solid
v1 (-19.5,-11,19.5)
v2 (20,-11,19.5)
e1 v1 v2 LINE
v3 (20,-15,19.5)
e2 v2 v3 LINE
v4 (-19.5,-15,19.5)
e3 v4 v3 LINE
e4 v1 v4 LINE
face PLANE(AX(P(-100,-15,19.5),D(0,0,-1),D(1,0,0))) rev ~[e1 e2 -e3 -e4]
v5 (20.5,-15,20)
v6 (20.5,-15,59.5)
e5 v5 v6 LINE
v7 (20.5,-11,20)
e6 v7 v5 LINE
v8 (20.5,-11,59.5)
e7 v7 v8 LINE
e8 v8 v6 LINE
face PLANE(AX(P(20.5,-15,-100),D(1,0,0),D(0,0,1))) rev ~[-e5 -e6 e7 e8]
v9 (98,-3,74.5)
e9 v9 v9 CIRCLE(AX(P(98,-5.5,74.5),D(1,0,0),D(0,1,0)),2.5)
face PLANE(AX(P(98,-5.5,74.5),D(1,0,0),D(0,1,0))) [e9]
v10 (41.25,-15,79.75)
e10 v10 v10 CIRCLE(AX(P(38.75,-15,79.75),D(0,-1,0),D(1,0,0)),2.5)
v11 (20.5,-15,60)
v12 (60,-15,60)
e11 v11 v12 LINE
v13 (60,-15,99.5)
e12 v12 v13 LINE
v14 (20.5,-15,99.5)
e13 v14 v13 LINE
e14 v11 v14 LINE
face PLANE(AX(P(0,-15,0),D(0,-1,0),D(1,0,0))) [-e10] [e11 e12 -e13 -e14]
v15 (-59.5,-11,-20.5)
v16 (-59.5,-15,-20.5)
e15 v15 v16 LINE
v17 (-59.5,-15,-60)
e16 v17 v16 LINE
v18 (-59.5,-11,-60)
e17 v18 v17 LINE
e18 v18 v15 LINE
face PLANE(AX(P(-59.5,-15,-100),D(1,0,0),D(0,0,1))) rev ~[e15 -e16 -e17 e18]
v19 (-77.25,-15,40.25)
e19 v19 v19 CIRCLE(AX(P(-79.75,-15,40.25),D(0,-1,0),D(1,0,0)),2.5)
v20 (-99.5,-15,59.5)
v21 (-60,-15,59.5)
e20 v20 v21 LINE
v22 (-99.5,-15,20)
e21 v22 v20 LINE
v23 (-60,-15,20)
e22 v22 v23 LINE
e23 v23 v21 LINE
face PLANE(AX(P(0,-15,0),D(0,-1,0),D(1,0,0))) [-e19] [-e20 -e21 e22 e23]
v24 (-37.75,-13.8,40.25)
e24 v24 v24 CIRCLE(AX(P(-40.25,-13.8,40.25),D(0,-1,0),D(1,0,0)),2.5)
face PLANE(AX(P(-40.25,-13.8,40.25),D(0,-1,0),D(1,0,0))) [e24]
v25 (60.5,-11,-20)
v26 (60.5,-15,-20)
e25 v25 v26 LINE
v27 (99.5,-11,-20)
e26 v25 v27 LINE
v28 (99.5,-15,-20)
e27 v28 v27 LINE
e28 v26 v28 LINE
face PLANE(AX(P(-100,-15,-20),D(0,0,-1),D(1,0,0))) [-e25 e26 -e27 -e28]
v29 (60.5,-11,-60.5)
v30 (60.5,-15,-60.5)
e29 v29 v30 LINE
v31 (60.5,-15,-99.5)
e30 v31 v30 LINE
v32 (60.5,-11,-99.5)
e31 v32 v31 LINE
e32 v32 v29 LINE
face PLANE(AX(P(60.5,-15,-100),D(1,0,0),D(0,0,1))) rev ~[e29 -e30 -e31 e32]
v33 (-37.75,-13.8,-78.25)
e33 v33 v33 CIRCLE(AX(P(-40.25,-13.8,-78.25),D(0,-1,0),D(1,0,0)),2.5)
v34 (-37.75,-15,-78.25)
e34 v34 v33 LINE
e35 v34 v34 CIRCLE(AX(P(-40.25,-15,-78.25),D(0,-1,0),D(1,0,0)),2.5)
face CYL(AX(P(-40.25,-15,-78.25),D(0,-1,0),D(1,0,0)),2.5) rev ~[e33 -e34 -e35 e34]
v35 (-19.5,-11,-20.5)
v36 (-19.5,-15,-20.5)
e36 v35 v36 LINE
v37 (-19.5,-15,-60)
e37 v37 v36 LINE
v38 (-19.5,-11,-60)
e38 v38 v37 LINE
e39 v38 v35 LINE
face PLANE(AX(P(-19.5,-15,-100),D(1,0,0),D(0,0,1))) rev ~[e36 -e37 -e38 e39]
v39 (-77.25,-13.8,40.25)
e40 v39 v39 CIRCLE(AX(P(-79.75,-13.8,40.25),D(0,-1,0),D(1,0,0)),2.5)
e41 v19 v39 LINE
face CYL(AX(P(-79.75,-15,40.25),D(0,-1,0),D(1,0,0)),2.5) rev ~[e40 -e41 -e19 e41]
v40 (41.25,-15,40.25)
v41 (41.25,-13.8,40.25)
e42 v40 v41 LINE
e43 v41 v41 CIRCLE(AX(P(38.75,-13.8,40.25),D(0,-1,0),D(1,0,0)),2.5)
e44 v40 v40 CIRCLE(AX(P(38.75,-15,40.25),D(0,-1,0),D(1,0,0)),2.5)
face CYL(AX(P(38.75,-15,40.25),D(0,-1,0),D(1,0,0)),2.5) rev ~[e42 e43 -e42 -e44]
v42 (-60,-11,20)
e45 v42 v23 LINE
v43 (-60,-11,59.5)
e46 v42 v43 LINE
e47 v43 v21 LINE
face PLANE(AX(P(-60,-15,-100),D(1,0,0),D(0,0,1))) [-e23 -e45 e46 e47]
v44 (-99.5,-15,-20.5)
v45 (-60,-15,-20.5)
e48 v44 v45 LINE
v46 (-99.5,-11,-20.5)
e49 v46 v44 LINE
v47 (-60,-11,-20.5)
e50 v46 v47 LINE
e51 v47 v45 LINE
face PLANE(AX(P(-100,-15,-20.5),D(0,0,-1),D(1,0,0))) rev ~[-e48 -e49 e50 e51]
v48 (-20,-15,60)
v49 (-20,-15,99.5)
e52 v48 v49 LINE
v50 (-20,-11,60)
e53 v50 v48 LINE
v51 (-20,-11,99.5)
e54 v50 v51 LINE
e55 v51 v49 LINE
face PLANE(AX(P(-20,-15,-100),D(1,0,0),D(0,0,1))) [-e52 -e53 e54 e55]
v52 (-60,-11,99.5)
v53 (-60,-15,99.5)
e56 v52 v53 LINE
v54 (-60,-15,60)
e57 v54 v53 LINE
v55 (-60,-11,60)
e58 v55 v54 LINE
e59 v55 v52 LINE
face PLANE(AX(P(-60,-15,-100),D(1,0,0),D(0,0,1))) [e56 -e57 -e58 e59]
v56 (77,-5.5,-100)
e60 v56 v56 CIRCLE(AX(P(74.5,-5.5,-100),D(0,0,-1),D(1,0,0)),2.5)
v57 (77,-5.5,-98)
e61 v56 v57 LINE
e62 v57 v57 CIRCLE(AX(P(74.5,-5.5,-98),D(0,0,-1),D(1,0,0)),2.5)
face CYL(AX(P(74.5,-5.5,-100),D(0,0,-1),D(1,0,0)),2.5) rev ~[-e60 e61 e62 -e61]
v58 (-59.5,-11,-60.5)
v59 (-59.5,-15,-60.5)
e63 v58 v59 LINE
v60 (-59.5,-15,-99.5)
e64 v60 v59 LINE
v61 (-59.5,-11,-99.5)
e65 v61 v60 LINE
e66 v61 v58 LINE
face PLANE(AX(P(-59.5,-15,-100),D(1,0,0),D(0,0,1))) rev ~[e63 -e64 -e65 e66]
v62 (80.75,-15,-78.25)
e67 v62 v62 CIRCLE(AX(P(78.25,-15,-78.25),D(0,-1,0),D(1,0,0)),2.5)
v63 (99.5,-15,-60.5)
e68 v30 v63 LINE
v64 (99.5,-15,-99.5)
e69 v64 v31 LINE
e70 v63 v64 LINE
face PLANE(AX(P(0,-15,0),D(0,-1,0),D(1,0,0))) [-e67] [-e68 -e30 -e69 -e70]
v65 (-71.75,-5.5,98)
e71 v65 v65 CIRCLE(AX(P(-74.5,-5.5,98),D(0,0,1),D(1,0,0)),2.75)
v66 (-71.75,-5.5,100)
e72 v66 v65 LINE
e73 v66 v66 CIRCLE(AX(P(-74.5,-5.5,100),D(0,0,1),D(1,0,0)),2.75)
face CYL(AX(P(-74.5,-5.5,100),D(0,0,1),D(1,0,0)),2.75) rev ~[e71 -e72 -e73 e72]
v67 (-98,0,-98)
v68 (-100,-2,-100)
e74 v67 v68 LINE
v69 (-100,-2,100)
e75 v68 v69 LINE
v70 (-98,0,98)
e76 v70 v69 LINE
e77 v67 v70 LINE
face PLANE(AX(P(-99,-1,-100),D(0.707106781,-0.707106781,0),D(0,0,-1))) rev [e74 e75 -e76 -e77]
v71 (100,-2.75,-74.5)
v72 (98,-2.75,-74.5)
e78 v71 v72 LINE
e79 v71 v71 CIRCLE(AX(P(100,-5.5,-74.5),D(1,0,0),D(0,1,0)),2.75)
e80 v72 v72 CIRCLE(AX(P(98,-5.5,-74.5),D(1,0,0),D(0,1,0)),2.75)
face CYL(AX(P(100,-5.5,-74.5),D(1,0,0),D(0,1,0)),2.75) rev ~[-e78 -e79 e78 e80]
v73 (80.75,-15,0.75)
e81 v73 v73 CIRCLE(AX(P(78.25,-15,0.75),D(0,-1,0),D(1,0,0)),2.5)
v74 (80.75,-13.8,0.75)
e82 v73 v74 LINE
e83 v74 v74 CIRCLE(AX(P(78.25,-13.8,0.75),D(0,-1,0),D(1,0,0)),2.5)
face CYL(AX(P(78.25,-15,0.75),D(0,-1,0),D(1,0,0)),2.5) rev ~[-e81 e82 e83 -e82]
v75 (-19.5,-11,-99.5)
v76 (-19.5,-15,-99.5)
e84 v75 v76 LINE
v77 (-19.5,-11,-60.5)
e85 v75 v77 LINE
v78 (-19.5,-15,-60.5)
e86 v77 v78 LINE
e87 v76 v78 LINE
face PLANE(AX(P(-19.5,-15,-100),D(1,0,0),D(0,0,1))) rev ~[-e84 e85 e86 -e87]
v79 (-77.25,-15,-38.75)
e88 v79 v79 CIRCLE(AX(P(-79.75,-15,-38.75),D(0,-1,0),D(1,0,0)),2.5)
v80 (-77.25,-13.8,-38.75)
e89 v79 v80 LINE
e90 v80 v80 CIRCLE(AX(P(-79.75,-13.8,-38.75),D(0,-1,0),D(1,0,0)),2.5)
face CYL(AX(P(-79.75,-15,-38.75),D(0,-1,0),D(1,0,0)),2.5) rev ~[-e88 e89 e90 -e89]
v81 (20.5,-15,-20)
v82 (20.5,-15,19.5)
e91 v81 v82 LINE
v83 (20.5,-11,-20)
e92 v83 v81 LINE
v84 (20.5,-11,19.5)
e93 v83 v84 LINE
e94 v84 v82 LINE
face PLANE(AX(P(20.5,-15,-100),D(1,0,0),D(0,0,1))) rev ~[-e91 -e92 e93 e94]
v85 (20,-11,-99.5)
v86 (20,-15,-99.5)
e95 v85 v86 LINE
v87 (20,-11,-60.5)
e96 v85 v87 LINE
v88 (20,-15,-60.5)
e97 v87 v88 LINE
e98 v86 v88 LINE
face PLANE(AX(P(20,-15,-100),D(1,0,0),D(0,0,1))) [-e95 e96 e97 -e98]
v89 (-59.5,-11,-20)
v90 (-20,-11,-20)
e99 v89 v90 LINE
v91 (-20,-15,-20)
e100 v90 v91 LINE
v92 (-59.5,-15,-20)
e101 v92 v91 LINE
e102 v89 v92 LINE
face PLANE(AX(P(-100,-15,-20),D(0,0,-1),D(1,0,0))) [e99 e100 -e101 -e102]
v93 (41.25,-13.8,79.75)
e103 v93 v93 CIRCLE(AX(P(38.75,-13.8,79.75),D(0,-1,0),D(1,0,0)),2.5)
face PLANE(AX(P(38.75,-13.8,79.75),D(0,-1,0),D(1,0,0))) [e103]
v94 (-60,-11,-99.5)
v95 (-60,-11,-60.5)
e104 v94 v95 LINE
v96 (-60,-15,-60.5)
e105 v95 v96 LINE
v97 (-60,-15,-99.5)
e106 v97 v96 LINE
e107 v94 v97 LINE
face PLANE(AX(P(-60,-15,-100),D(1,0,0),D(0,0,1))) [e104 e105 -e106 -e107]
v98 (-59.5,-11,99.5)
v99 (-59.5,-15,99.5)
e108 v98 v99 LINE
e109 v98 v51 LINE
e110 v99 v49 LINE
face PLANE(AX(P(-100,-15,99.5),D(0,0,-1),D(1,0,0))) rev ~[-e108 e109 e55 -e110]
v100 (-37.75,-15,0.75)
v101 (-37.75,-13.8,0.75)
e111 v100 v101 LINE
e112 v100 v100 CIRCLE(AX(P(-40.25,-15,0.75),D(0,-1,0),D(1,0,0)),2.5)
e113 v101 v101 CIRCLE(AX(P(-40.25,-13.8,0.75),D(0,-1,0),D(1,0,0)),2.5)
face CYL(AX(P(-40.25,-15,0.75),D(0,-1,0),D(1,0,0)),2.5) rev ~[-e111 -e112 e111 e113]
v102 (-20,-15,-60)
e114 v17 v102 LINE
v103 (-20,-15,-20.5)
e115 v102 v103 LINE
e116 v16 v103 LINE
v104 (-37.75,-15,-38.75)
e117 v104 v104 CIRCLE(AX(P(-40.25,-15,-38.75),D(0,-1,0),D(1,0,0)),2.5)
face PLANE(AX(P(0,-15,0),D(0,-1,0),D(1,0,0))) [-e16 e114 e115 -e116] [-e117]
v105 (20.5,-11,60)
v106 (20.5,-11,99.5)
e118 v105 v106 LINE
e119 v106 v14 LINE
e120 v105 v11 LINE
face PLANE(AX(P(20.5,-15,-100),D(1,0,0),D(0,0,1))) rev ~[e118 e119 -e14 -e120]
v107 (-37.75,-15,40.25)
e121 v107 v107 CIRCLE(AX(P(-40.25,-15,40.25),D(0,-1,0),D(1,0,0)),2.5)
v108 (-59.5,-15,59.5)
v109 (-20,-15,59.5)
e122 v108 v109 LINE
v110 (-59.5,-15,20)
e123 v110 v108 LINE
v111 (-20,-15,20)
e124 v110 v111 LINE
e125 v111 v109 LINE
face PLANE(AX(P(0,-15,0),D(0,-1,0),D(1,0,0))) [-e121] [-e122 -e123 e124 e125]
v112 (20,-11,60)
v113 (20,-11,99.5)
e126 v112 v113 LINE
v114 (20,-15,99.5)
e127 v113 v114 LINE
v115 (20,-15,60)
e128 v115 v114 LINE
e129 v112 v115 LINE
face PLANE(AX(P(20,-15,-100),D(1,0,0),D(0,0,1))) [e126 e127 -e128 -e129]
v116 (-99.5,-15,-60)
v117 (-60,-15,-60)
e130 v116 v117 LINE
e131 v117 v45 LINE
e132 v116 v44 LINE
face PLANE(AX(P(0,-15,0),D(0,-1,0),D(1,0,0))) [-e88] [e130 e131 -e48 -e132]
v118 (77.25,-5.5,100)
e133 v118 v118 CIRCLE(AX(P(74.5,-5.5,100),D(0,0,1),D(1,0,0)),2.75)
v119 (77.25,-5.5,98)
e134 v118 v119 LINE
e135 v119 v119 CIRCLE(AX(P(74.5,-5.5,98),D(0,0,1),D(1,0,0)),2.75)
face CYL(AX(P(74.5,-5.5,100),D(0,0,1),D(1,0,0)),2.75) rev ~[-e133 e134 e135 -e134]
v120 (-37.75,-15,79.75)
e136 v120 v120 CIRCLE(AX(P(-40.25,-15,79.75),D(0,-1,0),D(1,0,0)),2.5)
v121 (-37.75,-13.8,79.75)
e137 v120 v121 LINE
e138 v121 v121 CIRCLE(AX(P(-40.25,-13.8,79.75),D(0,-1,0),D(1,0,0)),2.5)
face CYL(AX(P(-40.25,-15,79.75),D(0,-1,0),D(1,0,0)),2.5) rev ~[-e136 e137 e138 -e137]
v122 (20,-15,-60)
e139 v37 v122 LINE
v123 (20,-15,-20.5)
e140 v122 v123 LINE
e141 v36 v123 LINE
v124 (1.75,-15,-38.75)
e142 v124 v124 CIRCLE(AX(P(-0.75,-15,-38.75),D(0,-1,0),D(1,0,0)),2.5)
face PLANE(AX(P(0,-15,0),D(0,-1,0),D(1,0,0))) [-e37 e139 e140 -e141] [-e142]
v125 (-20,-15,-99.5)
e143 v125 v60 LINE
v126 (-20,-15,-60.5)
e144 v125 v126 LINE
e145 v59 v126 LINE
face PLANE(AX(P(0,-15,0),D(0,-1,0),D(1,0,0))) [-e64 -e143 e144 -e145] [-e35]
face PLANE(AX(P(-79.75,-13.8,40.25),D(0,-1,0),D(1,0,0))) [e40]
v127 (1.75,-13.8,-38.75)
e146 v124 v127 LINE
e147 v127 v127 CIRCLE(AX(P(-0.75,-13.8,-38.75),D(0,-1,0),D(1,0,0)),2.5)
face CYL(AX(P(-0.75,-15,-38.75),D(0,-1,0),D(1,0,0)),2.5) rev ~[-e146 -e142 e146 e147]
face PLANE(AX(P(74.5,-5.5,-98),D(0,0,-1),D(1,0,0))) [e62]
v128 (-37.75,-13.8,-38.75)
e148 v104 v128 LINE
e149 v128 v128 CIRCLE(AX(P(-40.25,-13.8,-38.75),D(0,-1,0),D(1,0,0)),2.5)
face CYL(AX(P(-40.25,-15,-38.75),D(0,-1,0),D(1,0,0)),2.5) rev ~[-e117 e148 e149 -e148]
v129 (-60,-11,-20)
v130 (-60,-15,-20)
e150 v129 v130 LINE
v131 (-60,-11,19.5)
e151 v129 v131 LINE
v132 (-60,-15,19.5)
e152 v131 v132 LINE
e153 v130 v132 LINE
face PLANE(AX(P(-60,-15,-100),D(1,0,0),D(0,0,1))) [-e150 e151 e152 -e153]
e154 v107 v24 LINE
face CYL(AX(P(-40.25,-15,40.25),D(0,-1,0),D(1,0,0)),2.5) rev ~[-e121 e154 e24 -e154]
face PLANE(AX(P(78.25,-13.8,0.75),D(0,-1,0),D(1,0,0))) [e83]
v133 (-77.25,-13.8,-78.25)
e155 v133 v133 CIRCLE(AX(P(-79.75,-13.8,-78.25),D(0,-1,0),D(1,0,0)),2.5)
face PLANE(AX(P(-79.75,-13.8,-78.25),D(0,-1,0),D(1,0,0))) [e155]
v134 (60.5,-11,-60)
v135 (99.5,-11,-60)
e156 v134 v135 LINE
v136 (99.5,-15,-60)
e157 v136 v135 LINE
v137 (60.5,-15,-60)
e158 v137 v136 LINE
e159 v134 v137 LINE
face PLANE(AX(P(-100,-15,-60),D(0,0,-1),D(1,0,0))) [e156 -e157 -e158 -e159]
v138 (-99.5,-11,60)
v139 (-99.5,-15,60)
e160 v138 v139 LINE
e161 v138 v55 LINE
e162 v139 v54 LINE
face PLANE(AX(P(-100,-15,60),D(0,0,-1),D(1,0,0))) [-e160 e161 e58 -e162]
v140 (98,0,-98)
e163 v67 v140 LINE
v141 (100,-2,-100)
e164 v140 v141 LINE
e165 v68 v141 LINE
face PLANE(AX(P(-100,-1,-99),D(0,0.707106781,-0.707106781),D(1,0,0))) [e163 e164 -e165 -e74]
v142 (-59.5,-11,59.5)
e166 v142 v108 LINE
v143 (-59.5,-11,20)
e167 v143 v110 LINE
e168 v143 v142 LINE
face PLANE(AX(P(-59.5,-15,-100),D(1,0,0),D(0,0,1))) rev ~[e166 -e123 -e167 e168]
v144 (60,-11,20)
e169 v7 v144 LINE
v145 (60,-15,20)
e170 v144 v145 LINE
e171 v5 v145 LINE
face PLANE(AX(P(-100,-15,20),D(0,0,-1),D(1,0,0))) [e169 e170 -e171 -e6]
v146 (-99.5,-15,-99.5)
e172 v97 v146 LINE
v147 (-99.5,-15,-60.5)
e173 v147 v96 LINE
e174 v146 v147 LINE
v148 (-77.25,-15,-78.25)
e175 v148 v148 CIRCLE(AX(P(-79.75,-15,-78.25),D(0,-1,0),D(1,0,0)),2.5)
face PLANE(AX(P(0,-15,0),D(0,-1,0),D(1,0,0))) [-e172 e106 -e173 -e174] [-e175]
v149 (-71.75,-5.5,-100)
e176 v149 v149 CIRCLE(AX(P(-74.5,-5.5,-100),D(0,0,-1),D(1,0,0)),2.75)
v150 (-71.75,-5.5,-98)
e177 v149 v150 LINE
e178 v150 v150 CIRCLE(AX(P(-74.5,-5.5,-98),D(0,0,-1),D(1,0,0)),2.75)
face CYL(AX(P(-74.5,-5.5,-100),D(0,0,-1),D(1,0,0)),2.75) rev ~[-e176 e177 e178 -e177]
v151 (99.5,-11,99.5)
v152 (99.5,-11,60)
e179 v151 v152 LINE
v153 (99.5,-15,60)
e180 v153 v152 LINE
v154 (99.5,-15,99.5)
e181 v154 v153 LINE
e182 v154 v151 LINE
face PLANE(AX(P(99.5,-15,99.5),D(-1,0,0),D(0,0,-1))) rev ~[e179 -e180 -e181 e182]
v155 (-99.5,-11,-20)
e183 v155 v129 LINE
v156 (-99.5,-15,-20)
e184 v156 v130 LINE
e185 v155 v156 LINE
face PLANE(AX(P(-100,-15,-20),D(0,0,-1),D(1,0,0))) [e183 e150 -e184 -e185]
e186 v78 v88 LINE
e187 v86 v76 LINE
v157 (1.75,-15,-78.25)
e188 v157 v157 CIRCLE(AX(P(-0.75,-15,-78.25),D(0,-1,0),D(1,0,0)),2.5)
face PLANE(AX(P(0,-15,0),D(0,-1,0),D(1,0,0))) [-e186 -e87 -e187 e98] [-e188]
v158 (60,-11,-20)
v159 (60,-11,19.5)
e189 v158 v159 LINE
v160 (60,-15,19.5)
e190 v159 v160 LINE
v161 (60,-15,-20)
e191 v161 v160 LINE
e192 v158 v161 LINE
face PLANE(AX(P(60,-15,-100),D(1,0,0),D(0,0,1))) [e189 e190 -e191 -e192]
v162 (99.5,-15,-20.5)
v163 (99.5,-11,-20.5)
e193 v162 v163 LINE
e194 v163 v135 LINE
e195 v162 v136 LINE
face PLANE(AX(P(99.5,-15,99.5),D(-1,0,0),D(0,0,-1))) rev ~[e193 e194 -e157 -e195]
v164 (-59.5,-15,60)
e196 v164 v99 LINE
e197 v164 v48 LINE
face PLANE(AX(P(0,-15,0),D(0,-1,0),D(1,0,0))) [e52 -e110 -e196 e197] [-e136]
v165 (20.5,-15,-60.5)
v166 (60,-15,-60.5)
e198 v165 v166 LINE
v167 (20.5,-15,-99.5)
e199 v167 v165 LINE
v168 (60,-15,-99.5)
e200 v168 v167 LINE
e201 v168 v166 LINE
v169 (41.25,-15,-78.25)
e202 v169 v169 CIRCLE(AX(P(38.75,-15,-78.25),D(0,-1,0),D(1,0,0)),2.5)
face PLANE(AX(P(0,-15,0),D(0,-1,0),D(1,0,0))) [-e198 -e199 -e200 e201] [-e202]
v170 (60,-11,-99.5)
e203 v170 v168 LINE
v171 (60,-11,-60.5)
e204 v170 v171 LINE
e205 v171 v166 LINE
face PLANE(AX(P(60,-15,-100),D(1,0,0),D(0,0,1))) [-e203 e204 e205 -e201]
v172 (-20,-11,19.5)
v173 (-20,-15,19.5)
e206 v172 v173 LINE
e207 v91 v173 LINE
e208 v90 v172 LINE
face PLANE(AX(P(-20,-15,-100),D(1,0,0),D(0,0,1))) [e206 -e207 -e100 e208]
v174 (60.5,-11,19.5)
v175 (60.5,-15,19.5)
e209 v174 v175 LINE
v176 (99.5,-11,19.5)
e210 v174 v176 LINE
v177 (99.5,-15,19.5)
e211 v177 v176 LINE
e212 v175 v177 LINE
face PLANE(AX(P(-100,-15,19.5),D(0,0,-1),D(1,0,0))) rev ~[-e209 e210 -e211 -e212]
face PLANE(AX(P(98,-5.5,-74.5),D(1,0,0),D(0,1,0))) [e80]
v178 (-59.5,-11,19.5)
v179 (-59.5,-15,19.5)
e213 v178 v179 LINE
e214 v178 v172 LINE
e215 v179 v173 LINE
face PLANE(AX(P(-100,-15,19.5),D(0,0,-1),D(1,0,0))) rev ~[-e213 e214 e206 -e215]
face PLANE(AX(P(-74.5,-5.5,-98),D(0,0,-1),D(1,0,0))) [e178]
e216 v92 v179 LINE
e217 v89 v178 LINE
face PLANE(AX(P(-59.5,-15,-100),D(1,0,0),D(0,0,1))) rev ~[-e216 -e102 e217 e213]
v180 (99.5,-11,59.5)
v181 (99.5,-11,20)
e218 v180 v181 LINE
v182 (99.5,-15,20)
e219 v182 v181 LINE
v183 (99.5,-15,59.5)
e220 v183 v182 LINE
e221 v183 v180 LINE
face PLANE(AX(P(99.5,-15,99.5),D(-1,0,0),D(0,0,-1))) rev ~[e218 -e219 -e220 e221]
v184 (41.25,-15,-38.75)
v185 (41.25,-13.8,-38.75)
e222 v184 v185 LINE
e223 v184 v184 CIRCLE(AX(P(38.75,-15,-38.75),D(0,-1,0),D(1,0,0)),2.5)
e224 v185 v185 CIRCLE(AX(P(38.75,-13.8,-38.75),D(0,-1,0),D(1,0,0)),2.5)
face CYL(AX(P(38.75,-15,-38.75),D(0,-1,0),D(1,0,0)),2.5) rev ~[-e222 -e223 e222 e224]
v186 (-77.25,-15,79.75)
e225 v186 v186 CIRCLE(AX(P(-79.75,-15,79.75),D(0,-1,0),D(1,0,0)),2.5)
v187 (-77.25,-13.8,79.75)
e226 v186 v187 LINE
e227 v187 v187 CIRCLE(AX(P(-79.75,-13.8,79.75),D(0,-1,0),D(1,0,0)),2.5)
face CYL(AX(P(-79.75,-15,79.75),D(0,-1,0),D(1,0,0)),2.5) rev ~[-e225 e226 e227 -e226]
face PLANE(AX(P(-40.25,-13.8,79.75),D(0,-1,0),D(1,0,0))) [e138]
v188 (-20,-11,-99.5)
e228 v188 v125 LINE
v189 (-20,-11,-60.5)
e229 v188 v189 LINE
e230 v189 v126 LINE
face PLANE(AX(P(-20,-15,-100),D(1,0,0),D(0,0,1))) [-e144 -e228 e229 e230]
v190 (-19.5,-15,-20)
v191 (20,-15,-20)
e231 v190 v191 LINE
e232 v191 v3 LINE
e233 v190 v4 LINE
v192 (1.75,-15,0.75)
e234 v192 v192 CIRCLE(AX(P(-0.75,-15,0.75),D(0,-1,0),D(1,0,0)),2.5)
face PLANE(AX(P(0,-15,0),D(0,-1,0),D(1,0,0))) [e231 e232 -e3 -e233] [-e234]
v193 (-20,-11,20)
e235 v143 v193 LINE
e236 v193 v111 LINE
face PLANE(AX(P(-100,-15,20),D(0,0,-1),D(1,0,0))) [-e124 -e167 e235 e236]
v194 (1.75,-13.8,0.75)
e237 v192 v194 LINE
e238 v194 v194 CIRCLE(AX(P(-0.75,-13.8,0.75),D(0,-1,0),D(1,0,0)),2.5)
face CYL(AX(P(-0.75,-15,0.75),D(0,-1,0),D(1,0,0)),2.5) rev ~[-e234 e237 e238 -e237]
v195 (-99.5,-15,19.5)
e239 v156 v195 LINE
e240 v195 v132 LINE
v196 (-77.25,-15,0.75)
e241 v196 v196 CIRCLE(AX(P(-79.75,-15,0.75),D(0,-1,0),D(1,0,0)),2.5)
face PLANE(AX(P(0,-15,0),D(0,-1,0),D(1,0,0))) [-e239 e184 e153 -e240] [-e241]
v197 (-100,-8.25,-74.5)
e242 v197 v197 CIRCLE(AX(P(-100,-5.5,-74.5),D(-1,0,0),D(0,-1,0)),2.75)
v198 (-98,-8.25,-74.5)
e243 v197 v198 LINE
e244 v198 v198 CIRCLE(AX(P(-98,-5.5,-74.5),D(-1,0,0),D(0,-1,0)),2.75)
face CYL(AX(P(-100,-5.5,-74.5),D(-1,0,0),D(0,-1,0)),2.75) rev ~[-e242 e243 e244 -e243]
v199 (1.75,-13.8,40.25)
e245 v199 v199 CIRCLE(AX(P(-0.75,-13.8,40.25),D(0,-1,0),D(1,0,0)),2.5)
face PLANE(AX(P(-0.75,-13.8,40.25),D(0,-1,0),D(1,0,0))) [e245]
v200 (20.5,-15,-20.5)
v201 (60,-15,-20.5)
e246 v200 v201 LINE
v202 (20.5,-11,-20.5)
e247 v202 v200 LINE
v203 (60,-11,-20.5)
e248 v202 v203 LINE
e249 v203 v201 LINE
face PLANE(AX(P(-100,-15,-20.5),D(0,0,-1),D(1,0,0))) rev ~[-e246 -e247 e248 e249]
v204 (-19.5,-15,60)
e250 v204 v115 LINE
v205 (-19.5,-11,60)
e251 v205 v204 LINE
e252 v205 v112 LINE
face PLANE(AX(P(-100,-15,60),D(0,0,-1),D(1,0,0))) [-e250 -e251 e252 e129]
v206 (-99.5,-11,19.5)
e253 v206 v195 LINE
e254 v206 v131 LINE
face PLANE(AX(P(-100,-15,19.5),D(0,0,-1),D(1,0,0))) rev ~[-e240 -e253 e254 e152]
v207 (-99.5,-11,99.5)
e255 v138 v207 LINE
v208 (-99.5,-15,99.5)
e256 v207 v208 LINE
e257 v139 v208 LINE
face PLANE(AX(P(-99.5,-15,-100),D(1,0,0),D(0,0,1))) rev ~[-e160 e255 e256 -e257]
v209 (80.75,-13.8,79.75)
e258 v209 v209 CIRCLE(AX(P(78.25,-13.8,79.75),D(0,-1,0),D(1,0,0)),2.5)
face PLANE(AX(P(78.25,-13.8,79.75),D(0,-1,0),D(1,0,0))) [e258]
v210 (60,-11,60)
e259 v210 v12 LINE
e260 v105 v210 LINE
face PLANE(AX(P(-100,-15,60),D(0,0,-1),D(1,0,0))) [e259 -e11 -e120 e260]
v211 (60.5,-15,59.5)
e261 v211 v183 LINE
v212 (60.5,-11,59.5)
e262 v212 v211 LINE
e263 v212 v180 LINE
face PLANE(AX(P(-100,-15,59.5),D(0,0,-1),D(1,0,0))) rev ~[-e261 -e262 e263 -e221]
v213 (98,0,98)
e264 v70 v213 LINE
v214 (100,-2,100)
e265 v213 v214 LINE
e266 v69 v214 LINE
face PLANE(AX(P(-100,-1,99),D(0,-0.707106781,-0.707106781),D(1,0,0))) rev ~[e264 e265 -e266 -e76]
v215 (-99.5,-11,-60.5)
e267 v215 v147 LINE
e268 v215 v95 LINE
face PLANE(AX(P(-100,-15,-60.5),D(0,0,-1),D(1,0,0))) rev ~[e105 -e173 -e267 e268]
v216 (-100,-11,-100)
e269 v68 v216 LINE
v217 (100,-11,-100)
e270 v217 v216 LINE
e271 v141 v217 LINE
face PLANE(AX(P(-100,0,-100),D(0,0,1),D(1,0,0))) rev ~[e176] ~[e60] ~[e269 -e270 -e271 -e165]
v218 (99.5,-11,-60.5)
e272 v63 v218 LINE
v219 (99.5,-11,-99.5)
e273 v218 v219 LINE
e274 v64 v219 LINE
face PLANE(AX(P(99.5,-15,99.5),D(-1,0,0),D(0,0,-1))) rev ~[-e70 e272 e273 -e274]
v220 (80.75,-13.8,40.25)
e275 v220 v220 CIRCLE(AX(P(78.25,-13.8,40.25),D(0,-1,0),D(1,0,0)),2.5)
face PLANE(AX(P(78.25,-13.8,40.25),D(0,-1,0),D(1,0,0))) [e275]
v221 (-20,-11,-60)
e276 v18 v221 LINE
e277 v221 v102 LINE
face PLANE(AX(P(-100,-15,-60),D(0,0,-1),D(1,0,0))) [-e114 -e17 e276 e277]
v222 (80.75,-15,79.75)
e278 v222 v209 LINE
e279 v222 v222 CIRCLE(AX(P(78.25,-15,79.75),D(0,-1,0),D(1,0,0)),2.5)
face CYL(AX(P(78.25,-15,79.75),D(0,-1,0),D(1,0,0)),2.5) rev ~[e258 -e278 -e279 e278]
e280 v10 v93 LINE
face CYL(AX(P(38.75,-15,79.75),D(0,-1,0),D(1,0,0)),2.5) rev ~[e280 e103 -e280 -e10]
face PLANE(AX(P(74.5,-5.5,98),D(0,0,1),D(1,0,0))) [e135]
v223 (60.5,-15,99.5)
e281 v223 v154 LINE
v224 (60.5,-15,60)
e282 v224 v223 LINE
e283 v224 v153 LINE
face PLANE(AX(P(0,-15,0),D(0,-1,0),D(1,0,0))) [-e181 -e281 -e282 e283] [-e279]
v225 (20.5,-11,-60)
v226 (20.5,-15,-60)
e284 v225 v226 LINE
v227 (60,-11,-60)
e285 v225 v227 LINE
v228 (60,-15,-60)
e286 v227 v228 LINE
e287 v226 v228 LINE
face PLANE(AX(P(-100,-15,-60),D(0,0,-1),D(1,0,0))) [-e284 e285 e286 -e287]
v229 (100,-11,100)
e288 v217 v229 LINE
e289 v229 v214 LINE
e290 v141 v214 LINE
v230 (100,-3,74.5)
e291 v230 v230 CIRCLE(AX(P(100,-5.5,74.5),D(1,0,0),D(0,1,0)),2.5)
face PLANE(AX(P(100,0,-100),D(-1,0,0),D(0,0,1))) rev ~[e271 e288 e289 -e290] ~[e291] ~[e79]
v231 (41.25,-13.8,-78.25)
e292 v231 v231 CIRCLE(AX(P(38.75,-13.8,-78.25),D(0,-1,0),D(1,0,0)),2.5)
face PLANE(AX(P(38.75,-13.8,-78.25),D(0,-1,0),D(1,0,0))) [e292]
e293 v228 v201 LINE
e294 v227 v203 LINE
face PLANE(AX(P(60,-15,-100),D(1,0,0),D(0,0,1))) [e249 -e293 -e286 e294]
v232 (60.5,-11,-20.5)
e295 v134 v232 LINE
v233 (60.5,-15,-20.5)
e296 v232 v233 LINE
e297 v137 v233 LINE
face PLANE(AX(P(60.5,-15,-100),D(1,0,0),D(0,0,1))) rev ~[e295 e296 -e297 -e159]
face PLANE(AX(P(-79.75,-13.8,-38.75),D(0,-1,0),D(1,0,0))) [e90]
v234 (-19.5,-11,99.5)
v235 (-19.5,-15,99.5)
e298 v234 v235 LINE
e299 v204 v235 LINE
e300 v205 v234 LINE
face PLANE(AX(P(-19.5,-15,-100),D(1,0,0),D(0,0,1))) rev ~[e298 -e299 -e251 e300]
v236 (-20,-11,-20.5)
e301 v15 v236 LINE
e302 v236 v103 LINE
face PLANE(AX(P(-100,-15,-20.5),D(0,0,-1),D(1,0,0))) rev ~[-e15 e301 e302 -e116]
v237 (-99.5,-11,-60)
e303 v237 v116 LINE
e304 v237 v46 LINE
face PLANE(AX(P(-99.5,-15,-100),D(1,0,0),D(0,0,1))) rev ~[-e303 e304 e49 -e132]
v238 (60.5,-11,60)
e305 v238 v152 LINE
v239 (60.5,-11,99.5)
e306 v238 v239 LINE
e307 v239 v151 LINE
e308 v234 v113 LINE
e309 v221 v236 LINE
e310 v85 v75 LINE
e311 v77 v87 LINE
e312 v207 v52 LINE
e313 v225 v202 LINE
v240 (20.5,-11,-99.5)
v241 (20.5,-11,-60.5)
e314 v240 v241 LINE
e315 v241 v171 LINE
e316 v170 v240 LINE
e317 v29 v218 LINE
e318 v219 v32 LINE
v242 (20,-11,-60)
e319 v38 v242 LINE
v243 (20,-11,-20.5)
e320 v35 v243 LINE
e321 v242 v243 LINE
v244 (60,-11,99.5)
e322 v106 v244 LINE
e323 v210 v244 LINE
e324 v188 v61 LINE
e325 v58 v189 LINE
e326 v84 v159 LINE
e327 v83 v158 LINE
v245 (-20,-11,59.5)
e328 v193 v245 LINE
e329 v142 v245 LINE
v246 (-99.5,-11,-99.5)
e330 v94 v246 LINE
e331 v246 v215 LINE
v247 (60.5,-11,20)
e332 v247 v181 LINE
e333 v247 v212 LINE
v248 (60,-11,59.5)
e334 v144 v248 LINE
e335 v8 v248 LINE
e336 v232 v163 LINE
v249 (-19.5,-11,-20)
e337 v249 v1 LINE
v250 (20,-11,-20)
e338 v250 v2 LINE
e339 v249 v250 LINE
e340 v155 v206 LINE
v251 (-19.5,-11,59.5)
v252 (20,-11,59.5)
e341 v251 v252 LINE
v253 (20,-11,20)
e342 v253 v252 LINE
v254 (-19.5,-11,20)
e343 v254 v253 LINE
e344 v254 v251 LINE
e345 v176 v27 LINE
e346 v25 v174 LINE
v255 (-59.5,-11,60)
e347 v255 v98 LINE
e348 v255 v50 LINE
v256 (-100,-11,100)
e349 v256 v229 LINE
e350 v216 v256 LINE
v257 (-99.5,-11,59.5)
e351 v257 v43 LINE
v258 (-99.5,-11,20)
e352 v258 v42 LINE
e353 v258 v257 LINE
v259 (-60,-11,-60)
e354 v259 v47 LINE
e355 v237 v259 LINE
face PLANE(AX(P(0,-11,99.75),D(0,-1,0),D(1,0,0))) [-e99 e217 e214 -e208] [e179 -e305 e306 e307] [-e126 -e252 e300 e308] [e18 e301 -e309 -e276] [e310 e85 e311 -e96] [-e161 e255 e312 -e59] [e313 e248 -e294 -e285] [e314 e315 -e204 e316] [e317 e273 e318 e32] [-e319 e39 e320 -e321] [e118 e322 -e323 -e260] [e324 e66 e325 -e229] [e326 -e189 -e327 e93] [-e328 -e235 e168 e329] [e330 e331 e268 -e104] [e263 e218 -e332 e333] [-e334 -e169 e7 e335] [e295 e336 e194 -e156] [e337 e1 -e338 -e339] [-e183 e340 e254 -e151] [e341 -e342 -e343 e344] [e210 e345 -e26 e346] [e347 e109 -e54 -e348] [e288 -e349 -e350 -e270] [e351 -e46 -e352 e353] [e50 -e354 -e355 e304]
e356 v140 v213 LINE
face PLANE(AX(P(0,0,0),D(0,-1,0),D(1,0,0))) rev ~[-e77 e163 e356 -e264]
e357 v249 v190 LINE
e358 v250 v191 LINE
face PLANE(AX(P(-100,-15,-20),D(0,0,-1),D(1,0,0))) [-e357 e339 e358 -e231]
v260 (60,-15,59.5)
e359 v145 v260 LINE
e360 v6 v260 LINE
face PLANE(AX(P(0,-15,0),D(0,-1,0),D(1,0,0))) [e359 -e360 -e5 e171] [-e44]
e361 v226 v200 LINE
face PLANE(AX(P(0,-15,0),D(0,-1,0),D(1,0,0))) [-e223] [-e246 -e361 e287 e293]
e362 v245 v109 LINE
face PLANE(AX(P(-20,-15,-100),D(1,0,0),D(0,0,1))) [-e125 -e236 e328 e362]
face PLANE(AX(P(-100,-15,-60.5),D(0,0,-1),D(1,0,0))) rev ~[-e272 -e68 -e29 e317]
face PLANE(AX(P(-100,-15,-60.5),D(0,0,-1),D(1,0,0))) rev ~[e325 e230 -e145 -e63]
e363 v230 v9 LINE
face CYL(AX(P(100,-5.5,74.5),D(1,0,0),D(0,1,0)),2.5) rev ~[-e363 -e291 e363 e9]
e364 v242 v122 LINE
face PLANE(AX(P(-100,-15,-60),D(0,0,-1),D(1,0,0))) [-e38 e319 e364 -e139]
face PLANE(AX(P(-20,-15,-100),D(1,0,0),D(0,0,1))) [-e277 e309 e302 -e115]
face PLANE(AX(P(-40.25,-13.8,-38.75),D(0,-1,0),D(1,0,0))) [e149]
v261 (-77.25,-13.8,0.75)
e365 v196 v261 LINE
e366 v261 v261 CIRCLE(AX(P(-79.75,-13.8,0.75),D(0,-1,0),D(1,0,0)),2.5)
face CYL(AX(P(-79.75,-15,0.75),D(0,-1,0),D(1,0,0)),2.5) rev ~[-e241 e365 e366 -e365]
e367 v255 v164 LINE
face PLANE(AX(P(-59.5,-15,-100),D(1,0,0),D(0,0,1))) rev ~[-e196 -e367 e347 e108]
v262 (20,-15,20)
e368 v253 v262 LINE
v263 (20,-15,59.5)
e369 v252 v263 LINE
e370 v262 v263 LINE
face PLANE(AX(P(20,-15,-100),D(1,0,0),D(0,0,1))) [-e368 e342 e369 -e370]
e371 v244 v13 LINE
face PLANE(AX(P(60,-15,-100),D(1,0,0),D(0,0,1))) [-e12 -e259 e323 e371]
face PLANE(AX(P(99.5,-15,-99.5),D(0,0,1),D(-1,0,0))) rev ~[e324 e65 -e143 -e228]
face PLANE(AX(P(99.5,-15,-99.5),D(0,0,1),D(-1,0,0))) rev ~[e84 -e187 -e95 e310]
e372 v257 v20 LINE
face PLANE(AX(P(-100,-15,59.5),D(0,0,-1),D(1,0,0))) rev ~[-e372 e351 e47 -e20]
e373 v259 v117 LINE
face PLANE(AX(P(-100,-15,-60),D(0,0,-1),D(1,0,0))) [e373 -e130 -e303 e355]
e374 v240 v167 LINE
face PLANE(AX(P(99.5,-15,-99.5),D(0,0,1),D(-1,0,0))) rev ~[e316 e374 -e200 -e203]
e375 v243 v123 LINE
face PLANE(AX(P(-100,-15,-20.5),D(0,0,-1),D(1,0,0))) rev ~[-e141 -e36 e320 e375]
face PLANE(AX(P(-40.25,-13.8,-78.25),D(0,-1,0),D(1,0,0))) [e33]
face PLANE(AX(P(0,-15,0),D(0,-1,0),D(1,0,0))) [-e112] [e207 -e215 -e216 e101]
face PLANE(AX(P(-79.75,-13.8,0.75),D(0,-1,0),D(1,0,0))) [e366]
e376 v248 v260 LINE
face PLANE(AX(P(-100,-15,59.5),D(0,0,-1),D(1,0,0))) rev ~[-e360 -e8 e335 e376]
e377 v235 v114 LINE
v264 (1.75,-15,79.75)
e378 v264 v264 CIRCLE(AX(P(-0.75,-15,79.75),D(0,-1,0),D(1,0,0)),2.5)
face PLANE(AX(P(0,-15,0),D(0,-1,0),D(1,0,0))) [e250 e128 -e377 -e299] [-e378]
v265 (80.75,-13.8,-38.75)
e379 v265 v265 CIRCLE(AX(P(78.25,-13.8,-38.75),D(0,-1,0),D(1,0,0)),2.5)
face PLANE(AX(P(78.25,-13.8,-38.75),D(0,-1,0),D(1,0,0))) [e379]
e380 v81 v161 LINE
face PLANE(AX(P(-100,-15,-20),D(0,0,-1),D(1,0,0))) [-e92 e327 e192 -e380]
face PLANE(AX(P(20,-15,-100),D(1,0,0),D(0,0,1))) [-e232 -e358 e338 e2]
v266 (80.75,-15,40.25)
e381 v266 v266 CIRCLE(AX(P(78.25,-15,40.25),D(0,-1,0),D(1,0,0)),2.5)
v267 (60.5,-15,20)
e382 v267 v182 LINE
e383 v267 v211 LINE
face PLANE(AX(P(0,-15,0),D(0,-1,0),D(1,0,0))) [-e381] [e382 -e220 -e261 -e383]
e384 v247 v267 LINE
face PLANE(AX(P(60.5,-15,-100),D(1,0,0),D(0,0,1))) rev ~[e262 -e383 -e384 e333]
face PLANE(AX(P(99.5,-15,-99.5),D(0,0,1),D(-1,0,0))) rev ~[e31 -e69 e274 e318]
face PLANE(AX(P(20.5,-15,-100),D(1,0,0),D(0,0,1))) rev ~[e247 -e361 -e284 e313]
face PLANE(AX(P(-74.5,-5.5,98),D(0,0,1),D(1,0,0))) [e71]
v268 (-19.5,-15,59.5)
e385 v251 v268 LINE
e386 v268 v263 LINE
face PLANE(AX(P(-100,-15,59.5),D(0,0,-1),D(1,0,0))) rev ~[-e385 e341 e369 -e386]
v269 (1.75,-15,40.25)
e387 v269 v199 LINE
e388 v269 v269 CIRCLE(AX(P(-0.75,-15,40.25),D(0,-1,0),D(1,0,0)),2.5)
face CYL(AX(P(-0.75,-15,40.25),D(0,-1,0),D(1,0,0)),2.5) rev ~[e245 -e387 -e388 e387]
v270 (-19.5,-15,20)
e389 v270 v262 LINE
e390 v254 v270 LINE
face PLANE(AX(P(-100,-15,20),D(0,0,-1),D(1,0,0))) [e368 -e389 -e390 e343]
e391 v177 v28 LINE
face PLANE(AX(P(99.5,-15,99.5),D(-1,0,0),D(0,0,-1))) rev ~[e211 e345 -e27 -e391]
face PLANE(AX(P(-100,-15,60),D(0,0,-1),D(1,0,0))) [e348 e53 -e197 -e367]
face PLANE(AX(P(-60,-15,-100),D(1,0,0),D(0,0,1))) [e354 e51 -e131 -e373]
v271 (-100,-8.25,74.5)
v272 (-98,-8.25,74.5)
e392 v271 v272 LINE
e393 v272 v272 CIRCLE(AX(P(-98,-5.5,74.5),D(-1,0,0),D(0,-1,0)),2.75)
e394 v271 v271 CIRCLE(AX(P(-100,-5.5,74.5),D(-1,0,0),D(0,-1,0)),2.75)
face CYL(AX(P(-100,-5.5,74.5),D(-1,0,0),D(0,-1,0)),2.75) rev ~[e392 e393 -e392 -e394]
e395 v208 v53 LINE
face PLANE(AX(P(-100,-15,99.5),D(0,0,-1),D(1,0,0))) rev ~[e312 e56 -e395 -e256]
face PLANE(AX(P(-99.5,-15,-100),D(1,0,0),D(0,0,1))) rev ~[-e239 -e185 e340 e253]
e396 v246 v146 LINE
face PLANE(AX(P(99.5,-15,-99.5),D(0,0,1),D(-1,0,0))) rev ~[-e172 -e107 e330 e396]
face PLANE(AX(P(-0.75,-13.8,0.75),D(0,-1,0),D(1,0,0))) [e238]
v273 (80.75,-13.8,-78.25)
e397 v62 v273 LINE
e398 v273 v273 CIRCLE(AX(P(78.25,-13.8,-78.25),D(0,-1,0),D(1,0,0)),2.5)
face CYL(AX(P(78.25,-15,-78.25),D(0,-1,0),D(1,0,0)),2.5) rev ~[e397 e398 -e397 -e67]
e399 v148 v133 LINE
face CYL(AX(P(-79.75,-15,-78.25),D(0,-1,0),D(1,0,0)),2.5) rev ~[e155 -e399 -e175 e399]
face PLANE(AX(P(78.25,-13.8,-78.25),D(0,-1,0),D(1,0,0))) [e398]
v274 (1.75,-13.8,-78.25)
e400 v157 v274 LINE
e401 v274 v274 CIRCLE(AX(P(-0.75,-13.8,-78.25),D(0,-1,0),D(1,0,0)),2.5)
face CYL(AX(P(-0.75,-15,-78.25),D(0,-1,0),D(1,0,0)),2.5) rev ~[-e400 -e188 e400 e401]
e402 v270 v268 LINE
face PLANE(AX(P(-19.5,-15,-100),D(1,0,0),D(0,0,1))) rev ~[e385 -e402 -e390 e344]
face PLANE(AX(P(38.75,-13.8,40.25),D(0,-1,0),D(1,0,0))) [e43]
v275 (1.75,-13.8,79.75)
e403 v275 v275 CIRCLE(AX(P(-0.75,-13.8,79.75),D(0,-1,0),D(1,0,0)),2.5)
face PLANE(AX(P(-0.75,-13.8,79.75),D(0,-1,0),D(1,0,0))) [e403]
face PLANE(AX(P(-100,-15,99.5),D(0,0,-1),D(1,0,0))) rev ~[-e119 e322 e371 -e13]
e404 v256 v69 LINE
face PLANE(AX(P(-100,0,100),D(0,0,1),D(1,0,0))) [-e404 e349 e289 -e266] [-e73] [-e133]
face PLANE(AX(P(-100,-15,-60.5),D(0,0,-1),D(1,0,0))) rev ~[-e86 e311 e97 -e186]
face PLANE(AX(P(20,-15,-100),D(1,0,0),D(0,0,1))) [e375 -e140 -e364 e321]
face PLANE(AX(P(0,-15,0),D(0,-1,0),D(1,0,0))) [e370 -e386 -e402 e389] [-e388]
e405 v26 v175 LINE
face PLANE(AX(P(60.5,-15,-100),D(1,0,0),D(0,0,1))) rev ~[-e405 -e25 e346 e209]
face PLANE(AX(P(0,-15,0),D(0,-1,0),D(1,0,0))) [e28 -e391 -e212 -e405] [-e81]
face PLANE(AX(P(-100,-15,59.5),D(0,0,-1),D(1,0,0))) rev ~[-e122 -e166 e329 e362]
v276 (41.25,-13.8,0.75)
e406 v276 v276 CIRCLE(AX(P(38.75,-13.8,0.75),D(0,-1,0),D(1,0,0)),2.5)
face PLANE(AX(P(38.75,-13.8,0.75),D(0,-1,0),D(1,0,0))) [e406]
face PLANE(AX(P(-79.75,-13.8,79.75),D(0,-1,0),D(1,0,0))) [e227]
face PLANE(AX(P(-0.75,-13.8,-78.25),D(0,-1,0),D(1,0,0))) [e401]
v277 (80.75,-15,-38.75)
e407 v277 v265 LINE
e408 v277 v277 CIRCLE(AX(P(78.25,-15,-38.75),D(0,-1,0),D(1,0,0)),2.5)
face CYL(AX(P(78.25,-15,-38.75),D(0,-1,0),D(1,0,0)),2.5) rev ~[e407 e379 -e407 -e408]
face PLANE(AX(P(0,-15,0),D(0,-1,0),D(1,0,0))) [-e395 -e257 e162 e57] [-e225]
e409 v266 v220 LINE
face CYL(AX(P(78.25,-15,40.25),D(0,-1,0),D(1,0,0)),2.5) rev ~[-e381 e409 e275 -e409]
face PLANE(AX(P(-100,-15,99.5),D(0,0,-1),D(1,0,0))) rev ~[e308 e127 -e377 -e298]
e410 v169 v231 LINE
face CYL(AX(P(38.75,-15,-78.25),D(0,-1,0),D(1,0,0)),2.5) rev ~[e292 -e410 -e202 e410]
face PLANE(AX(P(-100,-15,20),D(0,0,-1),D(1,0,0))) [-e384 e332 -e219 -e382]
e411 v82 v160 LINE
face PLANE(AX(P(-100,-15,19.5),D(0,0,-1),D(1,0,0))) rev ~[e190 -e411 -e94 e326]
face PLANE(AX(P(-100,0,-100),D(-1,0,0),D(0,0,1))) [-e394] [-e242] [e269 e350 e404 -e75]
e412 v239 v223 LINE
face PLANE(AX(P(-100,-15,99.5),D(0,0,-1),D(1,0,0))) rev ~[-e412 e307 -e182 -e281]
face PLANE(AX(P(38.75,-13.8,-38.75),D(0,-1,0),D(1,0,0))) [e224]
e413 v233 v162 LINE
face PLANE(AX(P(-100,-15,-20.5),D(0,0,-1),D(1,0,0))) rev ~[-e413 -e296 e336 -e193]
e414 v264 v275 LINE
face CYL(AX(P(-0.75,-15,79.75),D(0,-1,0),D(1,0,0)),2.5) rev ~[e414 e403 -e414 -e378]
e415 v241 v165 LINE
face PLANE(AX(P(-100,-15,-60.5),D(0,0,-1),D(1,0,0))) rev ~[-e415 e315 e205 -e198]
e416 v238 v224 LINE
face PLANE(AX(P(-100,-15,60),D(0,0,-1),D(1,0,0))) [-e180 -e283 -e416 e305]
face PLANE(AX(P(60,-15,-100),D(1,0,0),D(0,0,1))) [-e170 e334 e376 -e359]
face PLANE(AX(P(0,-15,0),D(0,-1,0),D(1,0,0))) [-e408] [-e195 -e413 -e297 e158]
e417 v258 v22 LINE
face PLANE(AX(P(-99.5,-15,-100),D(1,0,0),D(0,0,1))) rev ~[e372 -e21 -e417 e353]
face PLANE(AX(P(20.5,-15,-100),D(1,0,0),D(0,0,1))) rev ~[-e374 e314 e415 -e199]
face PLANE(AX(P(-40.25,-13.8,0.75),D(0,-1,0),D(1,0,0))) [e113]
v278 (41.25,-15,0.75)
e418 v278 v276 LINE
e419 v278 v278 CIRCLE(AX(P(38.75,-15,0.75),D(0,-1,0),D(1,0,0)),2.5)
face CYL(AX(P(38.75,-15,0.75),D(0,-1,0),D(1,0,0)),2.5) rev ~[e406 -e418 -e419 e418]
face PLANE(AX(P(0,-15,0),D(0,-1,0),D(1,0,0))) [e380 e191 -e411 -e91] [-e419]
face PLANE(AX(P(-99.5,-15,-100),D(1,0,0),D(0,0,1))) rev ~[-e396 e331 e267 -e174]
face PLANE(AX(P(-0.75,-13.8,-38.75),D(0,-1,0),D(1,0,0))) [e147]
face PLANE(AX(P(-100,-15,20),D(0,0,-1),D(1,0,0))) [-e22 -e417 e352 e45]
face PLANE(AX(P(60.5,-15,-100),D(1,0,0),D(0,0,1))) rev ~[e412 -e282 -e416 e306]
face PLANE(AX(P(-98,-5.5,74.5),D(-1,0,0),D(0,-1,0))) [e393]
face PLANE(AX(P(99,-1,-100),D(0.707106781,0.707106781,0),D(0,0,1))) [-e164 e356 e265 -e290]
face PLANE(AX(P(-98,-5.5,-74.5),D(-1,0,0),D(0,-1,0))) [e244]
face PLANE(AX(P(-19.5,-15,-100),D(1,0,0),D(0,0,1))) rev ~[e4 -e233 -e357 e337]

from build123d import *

# Parameters (mm, degrees)
F0_W      = 200
F0_H      = 200
F1_DEPTH  = 15
F3_DEPTH  = 5
F2_W      = 200
F2_H      = 0.5
F4_DEPTH  = 4
F5_W      = 0.5
F5_H      = 200
F6_DEPTH  = 4
F8_DEPTH  = 4
F9_R      = 2.5
F10_DEPTH = 1.2
F11_R     = 2.75
F11_R_2   = 2.5
F12_DEPTH = 2
F13_R     = 2.75
F13_R_2   = 2.5
F14_DEPTH = 2
F15_SIZE  = 2
F16_R     = 2.75
F17_DEPTH = 2
F18_R     = 2.75
F19_DEPTH = 2


with BuildPart() as f1:
    # F0 (on Front) → F1 (new body)
    with BuildSketch(Plane.XZ):
        Rectangle(F0_W, F0_H)
    extrude(amount=F1_DEPTH)

    # F0 (on Front) → F3 (join)
    with BuildSketch(Plane.XZ):
        Rectangle(F0_W, F0_H)
    extrude(amount=F3_DEPTH)

    # F2 (on face) → F4 (cut)
    with BuildSketch(Plane.XZ.offset(15)):
        with Locations((0, 99.75)):
            Rectangle(F2_W, F2_H)
        with Locations((0, 59.75)):
            Rectangle(F2_W, F2_H)
        with Locations((0, 19.75)):
            Rectangle(F2_W, F2_H)
        with Locations((0, -20.25)):
            Rectangle(F2_W, F2_H)
        with Locations((0, -60.25)):
            Rectangle(F2_W, F2_H)
        with Locations((0, -100.25)):
            Rectangle(F2_W, F2_H)
    extrude(amount=-F4_DEPTH, mode=Mode.SUBTRACT)

    # F5 (on face) → F6 (cut)
    with BuildSketch(Plane.XZ.offset(15)):
        with Locations((-99.75, 0)):
            Rectangle(F5_W, F5_H)
        with Locations((-59.75, 0)):
            Rectangle(F5_W, F5_H)
        with Locations((-19.75, 0)):
            Rectangle(F5_W, F5_H)
        with Locations((20.25, 0)):
            Rectangle(F5_W, F5_H)
        with Locations((60.25, 0)):
            Rectangle(F5_W, F5_H)
        with Locations((100.25, 0)):
            Rectangle(F5_W, F5_H)
    extrude(amount=-F6_DEPTH, mode=Mode.SUBTRACT)

    # F7 (on face) → F8 (cut)
    with BuildSketch(Plane.XZ.offset(15)):
        Polygon((-100, -99.5), (-100, -100), (99.5, -100), (100, -100), (100, -99.5), (100, 99.5), (99.5, 99.5), (99.5, -99.5), align=None)
    extrude(amount=-F8_DEPTH, mode=Mode.SUBTRACT)

    # F9 (on face) → F10 (cut)
    with BuildSketch(Plane.XZ.offset(15)):
        with Locations((-79.75, 79.75)):
            Circle(F9_R)
        with Locations((-79.75, 40.25)):
            Circle(F9_R)
        with Locations((-79.75, 0.75)):
            Circle(F9_R)
        with Locations((-79.75, -38.75)):
            Circle(F9_R)
        with Locations((-79.75, -78.25)):
            Circle(F9_R)
        with Locations((-40.25, 79.75)):
            Circle(F9_R)
        with Locations((-40.25, 40.25)):
            Circle(F9_R)
        with Locations((-40.25, 0.75)):
            Circle(F9_R)
        with Locations((-40.25, -38.75)):
            Circle(F9_R)
        with Locations((-40.25, -78.25)):
            Circle(F9_R)
        with Locations((-0.75, 79.75)):
            Circle(F9_R)
        with Locations((-0.75, 40.25)):
            Circle(F9_R)
        with Locations((-0.75, 0.75)):
            Circle(F9_R)
        with Locations((-0.75, -38.75)):
            Circle(F9_R)
        with Locations((-0.75, -78.25)):
            Circle(F9_R)
        with Locations((38.75, 79.75)):
            Circle(F9_R)
        with Locations((38.75, 40.25)):
            Circle(F9_R)
        with Locations((38.75, 0.75)):
            Circle(F9_R)
        with Locations((38.75, -38.75)):
            Circle(F9_R)
        with Locations((38.75, -78.25)):
            Circle(F9_R)
        with Locations((78.25, 79.75)):
            Circle(F9_R)
        with Locations((78.25, 40.25)):
            Circle(F9_R)
        with Locations((78.25, 0.75)):
            Circle(F9_R)
        with Locations((78.25, -38.75)):
            Circle(F9_R)
        with Locations((78.25, -78.25)):
            Circle(F9_R)
    extrude(amount=-F10_DEPTH, mode=Mode.SUBTRACT)

    # F11 (on face) → F12 (cut)
    with BuildSketch(Plane.YZ.offset(100)):
        with Locations((-5.5, -74.5)):
            Circle(F11_R)
        with Locations((-5.5, 74.5)):
            Circle(F11_R_2)
    extrude(amount=-F12_DEPTH, mode=Mode.SUBTRACT)

    # F13 (on face) → F14 (cut)
    with BuildSketch(Plane(origin=(0, 0, -100), x_dir=(1, 0, 0), z_dir=(0, 0, -1))):
        with Locations((-74.5, 5.5)):
            Circle(F13_R)
        with Locations((74.5, 5.5)):
            Circle(F13_R_2)
    extrude(amount=-F14_DEPTH, mode=Mode.SUBTRACT)

    # F15
    f15_edges = [f1.edges().sort_by_distance(p)[0] for p in [
        (0, 0, -100),
        (100, 0, 0),
        (0, 0, 100),
        (-100, 0, 0),
    ]]
    chamfer(f15_edges, length=F15_SIZE)

    # F16 (on face) → F17 (cut)
    with BuildSketch(Plane(origin=(-100, 0, 0), x_dir=(0, -1, 0), z_dir=(-1, 0, 0))):
        with Locations((5.5, -74.5)):
            Circle(F16_R)
        with Locations((5.5, 74.5)):
            Circle(F16_R)
    extrude(amount=-F17_DEPTH, mode=Mode.SUBTRACT)

    # F18 (on face) → F19 (cut)
    with BuildSketch(Plane.XY.offset(100)):
        with Locations((74.5, -5.5)):
            Circle(F18_R)
        with Locations((-74.5, -5.5)):
            Circle(F18_R)
    extrude(amount=-F19_DEPTH, mode=Mode.SUBTRACT)


with BuildPart() as f20_1:
    # F20: copy of F1
    add(f1.part)


solid = f1.part
